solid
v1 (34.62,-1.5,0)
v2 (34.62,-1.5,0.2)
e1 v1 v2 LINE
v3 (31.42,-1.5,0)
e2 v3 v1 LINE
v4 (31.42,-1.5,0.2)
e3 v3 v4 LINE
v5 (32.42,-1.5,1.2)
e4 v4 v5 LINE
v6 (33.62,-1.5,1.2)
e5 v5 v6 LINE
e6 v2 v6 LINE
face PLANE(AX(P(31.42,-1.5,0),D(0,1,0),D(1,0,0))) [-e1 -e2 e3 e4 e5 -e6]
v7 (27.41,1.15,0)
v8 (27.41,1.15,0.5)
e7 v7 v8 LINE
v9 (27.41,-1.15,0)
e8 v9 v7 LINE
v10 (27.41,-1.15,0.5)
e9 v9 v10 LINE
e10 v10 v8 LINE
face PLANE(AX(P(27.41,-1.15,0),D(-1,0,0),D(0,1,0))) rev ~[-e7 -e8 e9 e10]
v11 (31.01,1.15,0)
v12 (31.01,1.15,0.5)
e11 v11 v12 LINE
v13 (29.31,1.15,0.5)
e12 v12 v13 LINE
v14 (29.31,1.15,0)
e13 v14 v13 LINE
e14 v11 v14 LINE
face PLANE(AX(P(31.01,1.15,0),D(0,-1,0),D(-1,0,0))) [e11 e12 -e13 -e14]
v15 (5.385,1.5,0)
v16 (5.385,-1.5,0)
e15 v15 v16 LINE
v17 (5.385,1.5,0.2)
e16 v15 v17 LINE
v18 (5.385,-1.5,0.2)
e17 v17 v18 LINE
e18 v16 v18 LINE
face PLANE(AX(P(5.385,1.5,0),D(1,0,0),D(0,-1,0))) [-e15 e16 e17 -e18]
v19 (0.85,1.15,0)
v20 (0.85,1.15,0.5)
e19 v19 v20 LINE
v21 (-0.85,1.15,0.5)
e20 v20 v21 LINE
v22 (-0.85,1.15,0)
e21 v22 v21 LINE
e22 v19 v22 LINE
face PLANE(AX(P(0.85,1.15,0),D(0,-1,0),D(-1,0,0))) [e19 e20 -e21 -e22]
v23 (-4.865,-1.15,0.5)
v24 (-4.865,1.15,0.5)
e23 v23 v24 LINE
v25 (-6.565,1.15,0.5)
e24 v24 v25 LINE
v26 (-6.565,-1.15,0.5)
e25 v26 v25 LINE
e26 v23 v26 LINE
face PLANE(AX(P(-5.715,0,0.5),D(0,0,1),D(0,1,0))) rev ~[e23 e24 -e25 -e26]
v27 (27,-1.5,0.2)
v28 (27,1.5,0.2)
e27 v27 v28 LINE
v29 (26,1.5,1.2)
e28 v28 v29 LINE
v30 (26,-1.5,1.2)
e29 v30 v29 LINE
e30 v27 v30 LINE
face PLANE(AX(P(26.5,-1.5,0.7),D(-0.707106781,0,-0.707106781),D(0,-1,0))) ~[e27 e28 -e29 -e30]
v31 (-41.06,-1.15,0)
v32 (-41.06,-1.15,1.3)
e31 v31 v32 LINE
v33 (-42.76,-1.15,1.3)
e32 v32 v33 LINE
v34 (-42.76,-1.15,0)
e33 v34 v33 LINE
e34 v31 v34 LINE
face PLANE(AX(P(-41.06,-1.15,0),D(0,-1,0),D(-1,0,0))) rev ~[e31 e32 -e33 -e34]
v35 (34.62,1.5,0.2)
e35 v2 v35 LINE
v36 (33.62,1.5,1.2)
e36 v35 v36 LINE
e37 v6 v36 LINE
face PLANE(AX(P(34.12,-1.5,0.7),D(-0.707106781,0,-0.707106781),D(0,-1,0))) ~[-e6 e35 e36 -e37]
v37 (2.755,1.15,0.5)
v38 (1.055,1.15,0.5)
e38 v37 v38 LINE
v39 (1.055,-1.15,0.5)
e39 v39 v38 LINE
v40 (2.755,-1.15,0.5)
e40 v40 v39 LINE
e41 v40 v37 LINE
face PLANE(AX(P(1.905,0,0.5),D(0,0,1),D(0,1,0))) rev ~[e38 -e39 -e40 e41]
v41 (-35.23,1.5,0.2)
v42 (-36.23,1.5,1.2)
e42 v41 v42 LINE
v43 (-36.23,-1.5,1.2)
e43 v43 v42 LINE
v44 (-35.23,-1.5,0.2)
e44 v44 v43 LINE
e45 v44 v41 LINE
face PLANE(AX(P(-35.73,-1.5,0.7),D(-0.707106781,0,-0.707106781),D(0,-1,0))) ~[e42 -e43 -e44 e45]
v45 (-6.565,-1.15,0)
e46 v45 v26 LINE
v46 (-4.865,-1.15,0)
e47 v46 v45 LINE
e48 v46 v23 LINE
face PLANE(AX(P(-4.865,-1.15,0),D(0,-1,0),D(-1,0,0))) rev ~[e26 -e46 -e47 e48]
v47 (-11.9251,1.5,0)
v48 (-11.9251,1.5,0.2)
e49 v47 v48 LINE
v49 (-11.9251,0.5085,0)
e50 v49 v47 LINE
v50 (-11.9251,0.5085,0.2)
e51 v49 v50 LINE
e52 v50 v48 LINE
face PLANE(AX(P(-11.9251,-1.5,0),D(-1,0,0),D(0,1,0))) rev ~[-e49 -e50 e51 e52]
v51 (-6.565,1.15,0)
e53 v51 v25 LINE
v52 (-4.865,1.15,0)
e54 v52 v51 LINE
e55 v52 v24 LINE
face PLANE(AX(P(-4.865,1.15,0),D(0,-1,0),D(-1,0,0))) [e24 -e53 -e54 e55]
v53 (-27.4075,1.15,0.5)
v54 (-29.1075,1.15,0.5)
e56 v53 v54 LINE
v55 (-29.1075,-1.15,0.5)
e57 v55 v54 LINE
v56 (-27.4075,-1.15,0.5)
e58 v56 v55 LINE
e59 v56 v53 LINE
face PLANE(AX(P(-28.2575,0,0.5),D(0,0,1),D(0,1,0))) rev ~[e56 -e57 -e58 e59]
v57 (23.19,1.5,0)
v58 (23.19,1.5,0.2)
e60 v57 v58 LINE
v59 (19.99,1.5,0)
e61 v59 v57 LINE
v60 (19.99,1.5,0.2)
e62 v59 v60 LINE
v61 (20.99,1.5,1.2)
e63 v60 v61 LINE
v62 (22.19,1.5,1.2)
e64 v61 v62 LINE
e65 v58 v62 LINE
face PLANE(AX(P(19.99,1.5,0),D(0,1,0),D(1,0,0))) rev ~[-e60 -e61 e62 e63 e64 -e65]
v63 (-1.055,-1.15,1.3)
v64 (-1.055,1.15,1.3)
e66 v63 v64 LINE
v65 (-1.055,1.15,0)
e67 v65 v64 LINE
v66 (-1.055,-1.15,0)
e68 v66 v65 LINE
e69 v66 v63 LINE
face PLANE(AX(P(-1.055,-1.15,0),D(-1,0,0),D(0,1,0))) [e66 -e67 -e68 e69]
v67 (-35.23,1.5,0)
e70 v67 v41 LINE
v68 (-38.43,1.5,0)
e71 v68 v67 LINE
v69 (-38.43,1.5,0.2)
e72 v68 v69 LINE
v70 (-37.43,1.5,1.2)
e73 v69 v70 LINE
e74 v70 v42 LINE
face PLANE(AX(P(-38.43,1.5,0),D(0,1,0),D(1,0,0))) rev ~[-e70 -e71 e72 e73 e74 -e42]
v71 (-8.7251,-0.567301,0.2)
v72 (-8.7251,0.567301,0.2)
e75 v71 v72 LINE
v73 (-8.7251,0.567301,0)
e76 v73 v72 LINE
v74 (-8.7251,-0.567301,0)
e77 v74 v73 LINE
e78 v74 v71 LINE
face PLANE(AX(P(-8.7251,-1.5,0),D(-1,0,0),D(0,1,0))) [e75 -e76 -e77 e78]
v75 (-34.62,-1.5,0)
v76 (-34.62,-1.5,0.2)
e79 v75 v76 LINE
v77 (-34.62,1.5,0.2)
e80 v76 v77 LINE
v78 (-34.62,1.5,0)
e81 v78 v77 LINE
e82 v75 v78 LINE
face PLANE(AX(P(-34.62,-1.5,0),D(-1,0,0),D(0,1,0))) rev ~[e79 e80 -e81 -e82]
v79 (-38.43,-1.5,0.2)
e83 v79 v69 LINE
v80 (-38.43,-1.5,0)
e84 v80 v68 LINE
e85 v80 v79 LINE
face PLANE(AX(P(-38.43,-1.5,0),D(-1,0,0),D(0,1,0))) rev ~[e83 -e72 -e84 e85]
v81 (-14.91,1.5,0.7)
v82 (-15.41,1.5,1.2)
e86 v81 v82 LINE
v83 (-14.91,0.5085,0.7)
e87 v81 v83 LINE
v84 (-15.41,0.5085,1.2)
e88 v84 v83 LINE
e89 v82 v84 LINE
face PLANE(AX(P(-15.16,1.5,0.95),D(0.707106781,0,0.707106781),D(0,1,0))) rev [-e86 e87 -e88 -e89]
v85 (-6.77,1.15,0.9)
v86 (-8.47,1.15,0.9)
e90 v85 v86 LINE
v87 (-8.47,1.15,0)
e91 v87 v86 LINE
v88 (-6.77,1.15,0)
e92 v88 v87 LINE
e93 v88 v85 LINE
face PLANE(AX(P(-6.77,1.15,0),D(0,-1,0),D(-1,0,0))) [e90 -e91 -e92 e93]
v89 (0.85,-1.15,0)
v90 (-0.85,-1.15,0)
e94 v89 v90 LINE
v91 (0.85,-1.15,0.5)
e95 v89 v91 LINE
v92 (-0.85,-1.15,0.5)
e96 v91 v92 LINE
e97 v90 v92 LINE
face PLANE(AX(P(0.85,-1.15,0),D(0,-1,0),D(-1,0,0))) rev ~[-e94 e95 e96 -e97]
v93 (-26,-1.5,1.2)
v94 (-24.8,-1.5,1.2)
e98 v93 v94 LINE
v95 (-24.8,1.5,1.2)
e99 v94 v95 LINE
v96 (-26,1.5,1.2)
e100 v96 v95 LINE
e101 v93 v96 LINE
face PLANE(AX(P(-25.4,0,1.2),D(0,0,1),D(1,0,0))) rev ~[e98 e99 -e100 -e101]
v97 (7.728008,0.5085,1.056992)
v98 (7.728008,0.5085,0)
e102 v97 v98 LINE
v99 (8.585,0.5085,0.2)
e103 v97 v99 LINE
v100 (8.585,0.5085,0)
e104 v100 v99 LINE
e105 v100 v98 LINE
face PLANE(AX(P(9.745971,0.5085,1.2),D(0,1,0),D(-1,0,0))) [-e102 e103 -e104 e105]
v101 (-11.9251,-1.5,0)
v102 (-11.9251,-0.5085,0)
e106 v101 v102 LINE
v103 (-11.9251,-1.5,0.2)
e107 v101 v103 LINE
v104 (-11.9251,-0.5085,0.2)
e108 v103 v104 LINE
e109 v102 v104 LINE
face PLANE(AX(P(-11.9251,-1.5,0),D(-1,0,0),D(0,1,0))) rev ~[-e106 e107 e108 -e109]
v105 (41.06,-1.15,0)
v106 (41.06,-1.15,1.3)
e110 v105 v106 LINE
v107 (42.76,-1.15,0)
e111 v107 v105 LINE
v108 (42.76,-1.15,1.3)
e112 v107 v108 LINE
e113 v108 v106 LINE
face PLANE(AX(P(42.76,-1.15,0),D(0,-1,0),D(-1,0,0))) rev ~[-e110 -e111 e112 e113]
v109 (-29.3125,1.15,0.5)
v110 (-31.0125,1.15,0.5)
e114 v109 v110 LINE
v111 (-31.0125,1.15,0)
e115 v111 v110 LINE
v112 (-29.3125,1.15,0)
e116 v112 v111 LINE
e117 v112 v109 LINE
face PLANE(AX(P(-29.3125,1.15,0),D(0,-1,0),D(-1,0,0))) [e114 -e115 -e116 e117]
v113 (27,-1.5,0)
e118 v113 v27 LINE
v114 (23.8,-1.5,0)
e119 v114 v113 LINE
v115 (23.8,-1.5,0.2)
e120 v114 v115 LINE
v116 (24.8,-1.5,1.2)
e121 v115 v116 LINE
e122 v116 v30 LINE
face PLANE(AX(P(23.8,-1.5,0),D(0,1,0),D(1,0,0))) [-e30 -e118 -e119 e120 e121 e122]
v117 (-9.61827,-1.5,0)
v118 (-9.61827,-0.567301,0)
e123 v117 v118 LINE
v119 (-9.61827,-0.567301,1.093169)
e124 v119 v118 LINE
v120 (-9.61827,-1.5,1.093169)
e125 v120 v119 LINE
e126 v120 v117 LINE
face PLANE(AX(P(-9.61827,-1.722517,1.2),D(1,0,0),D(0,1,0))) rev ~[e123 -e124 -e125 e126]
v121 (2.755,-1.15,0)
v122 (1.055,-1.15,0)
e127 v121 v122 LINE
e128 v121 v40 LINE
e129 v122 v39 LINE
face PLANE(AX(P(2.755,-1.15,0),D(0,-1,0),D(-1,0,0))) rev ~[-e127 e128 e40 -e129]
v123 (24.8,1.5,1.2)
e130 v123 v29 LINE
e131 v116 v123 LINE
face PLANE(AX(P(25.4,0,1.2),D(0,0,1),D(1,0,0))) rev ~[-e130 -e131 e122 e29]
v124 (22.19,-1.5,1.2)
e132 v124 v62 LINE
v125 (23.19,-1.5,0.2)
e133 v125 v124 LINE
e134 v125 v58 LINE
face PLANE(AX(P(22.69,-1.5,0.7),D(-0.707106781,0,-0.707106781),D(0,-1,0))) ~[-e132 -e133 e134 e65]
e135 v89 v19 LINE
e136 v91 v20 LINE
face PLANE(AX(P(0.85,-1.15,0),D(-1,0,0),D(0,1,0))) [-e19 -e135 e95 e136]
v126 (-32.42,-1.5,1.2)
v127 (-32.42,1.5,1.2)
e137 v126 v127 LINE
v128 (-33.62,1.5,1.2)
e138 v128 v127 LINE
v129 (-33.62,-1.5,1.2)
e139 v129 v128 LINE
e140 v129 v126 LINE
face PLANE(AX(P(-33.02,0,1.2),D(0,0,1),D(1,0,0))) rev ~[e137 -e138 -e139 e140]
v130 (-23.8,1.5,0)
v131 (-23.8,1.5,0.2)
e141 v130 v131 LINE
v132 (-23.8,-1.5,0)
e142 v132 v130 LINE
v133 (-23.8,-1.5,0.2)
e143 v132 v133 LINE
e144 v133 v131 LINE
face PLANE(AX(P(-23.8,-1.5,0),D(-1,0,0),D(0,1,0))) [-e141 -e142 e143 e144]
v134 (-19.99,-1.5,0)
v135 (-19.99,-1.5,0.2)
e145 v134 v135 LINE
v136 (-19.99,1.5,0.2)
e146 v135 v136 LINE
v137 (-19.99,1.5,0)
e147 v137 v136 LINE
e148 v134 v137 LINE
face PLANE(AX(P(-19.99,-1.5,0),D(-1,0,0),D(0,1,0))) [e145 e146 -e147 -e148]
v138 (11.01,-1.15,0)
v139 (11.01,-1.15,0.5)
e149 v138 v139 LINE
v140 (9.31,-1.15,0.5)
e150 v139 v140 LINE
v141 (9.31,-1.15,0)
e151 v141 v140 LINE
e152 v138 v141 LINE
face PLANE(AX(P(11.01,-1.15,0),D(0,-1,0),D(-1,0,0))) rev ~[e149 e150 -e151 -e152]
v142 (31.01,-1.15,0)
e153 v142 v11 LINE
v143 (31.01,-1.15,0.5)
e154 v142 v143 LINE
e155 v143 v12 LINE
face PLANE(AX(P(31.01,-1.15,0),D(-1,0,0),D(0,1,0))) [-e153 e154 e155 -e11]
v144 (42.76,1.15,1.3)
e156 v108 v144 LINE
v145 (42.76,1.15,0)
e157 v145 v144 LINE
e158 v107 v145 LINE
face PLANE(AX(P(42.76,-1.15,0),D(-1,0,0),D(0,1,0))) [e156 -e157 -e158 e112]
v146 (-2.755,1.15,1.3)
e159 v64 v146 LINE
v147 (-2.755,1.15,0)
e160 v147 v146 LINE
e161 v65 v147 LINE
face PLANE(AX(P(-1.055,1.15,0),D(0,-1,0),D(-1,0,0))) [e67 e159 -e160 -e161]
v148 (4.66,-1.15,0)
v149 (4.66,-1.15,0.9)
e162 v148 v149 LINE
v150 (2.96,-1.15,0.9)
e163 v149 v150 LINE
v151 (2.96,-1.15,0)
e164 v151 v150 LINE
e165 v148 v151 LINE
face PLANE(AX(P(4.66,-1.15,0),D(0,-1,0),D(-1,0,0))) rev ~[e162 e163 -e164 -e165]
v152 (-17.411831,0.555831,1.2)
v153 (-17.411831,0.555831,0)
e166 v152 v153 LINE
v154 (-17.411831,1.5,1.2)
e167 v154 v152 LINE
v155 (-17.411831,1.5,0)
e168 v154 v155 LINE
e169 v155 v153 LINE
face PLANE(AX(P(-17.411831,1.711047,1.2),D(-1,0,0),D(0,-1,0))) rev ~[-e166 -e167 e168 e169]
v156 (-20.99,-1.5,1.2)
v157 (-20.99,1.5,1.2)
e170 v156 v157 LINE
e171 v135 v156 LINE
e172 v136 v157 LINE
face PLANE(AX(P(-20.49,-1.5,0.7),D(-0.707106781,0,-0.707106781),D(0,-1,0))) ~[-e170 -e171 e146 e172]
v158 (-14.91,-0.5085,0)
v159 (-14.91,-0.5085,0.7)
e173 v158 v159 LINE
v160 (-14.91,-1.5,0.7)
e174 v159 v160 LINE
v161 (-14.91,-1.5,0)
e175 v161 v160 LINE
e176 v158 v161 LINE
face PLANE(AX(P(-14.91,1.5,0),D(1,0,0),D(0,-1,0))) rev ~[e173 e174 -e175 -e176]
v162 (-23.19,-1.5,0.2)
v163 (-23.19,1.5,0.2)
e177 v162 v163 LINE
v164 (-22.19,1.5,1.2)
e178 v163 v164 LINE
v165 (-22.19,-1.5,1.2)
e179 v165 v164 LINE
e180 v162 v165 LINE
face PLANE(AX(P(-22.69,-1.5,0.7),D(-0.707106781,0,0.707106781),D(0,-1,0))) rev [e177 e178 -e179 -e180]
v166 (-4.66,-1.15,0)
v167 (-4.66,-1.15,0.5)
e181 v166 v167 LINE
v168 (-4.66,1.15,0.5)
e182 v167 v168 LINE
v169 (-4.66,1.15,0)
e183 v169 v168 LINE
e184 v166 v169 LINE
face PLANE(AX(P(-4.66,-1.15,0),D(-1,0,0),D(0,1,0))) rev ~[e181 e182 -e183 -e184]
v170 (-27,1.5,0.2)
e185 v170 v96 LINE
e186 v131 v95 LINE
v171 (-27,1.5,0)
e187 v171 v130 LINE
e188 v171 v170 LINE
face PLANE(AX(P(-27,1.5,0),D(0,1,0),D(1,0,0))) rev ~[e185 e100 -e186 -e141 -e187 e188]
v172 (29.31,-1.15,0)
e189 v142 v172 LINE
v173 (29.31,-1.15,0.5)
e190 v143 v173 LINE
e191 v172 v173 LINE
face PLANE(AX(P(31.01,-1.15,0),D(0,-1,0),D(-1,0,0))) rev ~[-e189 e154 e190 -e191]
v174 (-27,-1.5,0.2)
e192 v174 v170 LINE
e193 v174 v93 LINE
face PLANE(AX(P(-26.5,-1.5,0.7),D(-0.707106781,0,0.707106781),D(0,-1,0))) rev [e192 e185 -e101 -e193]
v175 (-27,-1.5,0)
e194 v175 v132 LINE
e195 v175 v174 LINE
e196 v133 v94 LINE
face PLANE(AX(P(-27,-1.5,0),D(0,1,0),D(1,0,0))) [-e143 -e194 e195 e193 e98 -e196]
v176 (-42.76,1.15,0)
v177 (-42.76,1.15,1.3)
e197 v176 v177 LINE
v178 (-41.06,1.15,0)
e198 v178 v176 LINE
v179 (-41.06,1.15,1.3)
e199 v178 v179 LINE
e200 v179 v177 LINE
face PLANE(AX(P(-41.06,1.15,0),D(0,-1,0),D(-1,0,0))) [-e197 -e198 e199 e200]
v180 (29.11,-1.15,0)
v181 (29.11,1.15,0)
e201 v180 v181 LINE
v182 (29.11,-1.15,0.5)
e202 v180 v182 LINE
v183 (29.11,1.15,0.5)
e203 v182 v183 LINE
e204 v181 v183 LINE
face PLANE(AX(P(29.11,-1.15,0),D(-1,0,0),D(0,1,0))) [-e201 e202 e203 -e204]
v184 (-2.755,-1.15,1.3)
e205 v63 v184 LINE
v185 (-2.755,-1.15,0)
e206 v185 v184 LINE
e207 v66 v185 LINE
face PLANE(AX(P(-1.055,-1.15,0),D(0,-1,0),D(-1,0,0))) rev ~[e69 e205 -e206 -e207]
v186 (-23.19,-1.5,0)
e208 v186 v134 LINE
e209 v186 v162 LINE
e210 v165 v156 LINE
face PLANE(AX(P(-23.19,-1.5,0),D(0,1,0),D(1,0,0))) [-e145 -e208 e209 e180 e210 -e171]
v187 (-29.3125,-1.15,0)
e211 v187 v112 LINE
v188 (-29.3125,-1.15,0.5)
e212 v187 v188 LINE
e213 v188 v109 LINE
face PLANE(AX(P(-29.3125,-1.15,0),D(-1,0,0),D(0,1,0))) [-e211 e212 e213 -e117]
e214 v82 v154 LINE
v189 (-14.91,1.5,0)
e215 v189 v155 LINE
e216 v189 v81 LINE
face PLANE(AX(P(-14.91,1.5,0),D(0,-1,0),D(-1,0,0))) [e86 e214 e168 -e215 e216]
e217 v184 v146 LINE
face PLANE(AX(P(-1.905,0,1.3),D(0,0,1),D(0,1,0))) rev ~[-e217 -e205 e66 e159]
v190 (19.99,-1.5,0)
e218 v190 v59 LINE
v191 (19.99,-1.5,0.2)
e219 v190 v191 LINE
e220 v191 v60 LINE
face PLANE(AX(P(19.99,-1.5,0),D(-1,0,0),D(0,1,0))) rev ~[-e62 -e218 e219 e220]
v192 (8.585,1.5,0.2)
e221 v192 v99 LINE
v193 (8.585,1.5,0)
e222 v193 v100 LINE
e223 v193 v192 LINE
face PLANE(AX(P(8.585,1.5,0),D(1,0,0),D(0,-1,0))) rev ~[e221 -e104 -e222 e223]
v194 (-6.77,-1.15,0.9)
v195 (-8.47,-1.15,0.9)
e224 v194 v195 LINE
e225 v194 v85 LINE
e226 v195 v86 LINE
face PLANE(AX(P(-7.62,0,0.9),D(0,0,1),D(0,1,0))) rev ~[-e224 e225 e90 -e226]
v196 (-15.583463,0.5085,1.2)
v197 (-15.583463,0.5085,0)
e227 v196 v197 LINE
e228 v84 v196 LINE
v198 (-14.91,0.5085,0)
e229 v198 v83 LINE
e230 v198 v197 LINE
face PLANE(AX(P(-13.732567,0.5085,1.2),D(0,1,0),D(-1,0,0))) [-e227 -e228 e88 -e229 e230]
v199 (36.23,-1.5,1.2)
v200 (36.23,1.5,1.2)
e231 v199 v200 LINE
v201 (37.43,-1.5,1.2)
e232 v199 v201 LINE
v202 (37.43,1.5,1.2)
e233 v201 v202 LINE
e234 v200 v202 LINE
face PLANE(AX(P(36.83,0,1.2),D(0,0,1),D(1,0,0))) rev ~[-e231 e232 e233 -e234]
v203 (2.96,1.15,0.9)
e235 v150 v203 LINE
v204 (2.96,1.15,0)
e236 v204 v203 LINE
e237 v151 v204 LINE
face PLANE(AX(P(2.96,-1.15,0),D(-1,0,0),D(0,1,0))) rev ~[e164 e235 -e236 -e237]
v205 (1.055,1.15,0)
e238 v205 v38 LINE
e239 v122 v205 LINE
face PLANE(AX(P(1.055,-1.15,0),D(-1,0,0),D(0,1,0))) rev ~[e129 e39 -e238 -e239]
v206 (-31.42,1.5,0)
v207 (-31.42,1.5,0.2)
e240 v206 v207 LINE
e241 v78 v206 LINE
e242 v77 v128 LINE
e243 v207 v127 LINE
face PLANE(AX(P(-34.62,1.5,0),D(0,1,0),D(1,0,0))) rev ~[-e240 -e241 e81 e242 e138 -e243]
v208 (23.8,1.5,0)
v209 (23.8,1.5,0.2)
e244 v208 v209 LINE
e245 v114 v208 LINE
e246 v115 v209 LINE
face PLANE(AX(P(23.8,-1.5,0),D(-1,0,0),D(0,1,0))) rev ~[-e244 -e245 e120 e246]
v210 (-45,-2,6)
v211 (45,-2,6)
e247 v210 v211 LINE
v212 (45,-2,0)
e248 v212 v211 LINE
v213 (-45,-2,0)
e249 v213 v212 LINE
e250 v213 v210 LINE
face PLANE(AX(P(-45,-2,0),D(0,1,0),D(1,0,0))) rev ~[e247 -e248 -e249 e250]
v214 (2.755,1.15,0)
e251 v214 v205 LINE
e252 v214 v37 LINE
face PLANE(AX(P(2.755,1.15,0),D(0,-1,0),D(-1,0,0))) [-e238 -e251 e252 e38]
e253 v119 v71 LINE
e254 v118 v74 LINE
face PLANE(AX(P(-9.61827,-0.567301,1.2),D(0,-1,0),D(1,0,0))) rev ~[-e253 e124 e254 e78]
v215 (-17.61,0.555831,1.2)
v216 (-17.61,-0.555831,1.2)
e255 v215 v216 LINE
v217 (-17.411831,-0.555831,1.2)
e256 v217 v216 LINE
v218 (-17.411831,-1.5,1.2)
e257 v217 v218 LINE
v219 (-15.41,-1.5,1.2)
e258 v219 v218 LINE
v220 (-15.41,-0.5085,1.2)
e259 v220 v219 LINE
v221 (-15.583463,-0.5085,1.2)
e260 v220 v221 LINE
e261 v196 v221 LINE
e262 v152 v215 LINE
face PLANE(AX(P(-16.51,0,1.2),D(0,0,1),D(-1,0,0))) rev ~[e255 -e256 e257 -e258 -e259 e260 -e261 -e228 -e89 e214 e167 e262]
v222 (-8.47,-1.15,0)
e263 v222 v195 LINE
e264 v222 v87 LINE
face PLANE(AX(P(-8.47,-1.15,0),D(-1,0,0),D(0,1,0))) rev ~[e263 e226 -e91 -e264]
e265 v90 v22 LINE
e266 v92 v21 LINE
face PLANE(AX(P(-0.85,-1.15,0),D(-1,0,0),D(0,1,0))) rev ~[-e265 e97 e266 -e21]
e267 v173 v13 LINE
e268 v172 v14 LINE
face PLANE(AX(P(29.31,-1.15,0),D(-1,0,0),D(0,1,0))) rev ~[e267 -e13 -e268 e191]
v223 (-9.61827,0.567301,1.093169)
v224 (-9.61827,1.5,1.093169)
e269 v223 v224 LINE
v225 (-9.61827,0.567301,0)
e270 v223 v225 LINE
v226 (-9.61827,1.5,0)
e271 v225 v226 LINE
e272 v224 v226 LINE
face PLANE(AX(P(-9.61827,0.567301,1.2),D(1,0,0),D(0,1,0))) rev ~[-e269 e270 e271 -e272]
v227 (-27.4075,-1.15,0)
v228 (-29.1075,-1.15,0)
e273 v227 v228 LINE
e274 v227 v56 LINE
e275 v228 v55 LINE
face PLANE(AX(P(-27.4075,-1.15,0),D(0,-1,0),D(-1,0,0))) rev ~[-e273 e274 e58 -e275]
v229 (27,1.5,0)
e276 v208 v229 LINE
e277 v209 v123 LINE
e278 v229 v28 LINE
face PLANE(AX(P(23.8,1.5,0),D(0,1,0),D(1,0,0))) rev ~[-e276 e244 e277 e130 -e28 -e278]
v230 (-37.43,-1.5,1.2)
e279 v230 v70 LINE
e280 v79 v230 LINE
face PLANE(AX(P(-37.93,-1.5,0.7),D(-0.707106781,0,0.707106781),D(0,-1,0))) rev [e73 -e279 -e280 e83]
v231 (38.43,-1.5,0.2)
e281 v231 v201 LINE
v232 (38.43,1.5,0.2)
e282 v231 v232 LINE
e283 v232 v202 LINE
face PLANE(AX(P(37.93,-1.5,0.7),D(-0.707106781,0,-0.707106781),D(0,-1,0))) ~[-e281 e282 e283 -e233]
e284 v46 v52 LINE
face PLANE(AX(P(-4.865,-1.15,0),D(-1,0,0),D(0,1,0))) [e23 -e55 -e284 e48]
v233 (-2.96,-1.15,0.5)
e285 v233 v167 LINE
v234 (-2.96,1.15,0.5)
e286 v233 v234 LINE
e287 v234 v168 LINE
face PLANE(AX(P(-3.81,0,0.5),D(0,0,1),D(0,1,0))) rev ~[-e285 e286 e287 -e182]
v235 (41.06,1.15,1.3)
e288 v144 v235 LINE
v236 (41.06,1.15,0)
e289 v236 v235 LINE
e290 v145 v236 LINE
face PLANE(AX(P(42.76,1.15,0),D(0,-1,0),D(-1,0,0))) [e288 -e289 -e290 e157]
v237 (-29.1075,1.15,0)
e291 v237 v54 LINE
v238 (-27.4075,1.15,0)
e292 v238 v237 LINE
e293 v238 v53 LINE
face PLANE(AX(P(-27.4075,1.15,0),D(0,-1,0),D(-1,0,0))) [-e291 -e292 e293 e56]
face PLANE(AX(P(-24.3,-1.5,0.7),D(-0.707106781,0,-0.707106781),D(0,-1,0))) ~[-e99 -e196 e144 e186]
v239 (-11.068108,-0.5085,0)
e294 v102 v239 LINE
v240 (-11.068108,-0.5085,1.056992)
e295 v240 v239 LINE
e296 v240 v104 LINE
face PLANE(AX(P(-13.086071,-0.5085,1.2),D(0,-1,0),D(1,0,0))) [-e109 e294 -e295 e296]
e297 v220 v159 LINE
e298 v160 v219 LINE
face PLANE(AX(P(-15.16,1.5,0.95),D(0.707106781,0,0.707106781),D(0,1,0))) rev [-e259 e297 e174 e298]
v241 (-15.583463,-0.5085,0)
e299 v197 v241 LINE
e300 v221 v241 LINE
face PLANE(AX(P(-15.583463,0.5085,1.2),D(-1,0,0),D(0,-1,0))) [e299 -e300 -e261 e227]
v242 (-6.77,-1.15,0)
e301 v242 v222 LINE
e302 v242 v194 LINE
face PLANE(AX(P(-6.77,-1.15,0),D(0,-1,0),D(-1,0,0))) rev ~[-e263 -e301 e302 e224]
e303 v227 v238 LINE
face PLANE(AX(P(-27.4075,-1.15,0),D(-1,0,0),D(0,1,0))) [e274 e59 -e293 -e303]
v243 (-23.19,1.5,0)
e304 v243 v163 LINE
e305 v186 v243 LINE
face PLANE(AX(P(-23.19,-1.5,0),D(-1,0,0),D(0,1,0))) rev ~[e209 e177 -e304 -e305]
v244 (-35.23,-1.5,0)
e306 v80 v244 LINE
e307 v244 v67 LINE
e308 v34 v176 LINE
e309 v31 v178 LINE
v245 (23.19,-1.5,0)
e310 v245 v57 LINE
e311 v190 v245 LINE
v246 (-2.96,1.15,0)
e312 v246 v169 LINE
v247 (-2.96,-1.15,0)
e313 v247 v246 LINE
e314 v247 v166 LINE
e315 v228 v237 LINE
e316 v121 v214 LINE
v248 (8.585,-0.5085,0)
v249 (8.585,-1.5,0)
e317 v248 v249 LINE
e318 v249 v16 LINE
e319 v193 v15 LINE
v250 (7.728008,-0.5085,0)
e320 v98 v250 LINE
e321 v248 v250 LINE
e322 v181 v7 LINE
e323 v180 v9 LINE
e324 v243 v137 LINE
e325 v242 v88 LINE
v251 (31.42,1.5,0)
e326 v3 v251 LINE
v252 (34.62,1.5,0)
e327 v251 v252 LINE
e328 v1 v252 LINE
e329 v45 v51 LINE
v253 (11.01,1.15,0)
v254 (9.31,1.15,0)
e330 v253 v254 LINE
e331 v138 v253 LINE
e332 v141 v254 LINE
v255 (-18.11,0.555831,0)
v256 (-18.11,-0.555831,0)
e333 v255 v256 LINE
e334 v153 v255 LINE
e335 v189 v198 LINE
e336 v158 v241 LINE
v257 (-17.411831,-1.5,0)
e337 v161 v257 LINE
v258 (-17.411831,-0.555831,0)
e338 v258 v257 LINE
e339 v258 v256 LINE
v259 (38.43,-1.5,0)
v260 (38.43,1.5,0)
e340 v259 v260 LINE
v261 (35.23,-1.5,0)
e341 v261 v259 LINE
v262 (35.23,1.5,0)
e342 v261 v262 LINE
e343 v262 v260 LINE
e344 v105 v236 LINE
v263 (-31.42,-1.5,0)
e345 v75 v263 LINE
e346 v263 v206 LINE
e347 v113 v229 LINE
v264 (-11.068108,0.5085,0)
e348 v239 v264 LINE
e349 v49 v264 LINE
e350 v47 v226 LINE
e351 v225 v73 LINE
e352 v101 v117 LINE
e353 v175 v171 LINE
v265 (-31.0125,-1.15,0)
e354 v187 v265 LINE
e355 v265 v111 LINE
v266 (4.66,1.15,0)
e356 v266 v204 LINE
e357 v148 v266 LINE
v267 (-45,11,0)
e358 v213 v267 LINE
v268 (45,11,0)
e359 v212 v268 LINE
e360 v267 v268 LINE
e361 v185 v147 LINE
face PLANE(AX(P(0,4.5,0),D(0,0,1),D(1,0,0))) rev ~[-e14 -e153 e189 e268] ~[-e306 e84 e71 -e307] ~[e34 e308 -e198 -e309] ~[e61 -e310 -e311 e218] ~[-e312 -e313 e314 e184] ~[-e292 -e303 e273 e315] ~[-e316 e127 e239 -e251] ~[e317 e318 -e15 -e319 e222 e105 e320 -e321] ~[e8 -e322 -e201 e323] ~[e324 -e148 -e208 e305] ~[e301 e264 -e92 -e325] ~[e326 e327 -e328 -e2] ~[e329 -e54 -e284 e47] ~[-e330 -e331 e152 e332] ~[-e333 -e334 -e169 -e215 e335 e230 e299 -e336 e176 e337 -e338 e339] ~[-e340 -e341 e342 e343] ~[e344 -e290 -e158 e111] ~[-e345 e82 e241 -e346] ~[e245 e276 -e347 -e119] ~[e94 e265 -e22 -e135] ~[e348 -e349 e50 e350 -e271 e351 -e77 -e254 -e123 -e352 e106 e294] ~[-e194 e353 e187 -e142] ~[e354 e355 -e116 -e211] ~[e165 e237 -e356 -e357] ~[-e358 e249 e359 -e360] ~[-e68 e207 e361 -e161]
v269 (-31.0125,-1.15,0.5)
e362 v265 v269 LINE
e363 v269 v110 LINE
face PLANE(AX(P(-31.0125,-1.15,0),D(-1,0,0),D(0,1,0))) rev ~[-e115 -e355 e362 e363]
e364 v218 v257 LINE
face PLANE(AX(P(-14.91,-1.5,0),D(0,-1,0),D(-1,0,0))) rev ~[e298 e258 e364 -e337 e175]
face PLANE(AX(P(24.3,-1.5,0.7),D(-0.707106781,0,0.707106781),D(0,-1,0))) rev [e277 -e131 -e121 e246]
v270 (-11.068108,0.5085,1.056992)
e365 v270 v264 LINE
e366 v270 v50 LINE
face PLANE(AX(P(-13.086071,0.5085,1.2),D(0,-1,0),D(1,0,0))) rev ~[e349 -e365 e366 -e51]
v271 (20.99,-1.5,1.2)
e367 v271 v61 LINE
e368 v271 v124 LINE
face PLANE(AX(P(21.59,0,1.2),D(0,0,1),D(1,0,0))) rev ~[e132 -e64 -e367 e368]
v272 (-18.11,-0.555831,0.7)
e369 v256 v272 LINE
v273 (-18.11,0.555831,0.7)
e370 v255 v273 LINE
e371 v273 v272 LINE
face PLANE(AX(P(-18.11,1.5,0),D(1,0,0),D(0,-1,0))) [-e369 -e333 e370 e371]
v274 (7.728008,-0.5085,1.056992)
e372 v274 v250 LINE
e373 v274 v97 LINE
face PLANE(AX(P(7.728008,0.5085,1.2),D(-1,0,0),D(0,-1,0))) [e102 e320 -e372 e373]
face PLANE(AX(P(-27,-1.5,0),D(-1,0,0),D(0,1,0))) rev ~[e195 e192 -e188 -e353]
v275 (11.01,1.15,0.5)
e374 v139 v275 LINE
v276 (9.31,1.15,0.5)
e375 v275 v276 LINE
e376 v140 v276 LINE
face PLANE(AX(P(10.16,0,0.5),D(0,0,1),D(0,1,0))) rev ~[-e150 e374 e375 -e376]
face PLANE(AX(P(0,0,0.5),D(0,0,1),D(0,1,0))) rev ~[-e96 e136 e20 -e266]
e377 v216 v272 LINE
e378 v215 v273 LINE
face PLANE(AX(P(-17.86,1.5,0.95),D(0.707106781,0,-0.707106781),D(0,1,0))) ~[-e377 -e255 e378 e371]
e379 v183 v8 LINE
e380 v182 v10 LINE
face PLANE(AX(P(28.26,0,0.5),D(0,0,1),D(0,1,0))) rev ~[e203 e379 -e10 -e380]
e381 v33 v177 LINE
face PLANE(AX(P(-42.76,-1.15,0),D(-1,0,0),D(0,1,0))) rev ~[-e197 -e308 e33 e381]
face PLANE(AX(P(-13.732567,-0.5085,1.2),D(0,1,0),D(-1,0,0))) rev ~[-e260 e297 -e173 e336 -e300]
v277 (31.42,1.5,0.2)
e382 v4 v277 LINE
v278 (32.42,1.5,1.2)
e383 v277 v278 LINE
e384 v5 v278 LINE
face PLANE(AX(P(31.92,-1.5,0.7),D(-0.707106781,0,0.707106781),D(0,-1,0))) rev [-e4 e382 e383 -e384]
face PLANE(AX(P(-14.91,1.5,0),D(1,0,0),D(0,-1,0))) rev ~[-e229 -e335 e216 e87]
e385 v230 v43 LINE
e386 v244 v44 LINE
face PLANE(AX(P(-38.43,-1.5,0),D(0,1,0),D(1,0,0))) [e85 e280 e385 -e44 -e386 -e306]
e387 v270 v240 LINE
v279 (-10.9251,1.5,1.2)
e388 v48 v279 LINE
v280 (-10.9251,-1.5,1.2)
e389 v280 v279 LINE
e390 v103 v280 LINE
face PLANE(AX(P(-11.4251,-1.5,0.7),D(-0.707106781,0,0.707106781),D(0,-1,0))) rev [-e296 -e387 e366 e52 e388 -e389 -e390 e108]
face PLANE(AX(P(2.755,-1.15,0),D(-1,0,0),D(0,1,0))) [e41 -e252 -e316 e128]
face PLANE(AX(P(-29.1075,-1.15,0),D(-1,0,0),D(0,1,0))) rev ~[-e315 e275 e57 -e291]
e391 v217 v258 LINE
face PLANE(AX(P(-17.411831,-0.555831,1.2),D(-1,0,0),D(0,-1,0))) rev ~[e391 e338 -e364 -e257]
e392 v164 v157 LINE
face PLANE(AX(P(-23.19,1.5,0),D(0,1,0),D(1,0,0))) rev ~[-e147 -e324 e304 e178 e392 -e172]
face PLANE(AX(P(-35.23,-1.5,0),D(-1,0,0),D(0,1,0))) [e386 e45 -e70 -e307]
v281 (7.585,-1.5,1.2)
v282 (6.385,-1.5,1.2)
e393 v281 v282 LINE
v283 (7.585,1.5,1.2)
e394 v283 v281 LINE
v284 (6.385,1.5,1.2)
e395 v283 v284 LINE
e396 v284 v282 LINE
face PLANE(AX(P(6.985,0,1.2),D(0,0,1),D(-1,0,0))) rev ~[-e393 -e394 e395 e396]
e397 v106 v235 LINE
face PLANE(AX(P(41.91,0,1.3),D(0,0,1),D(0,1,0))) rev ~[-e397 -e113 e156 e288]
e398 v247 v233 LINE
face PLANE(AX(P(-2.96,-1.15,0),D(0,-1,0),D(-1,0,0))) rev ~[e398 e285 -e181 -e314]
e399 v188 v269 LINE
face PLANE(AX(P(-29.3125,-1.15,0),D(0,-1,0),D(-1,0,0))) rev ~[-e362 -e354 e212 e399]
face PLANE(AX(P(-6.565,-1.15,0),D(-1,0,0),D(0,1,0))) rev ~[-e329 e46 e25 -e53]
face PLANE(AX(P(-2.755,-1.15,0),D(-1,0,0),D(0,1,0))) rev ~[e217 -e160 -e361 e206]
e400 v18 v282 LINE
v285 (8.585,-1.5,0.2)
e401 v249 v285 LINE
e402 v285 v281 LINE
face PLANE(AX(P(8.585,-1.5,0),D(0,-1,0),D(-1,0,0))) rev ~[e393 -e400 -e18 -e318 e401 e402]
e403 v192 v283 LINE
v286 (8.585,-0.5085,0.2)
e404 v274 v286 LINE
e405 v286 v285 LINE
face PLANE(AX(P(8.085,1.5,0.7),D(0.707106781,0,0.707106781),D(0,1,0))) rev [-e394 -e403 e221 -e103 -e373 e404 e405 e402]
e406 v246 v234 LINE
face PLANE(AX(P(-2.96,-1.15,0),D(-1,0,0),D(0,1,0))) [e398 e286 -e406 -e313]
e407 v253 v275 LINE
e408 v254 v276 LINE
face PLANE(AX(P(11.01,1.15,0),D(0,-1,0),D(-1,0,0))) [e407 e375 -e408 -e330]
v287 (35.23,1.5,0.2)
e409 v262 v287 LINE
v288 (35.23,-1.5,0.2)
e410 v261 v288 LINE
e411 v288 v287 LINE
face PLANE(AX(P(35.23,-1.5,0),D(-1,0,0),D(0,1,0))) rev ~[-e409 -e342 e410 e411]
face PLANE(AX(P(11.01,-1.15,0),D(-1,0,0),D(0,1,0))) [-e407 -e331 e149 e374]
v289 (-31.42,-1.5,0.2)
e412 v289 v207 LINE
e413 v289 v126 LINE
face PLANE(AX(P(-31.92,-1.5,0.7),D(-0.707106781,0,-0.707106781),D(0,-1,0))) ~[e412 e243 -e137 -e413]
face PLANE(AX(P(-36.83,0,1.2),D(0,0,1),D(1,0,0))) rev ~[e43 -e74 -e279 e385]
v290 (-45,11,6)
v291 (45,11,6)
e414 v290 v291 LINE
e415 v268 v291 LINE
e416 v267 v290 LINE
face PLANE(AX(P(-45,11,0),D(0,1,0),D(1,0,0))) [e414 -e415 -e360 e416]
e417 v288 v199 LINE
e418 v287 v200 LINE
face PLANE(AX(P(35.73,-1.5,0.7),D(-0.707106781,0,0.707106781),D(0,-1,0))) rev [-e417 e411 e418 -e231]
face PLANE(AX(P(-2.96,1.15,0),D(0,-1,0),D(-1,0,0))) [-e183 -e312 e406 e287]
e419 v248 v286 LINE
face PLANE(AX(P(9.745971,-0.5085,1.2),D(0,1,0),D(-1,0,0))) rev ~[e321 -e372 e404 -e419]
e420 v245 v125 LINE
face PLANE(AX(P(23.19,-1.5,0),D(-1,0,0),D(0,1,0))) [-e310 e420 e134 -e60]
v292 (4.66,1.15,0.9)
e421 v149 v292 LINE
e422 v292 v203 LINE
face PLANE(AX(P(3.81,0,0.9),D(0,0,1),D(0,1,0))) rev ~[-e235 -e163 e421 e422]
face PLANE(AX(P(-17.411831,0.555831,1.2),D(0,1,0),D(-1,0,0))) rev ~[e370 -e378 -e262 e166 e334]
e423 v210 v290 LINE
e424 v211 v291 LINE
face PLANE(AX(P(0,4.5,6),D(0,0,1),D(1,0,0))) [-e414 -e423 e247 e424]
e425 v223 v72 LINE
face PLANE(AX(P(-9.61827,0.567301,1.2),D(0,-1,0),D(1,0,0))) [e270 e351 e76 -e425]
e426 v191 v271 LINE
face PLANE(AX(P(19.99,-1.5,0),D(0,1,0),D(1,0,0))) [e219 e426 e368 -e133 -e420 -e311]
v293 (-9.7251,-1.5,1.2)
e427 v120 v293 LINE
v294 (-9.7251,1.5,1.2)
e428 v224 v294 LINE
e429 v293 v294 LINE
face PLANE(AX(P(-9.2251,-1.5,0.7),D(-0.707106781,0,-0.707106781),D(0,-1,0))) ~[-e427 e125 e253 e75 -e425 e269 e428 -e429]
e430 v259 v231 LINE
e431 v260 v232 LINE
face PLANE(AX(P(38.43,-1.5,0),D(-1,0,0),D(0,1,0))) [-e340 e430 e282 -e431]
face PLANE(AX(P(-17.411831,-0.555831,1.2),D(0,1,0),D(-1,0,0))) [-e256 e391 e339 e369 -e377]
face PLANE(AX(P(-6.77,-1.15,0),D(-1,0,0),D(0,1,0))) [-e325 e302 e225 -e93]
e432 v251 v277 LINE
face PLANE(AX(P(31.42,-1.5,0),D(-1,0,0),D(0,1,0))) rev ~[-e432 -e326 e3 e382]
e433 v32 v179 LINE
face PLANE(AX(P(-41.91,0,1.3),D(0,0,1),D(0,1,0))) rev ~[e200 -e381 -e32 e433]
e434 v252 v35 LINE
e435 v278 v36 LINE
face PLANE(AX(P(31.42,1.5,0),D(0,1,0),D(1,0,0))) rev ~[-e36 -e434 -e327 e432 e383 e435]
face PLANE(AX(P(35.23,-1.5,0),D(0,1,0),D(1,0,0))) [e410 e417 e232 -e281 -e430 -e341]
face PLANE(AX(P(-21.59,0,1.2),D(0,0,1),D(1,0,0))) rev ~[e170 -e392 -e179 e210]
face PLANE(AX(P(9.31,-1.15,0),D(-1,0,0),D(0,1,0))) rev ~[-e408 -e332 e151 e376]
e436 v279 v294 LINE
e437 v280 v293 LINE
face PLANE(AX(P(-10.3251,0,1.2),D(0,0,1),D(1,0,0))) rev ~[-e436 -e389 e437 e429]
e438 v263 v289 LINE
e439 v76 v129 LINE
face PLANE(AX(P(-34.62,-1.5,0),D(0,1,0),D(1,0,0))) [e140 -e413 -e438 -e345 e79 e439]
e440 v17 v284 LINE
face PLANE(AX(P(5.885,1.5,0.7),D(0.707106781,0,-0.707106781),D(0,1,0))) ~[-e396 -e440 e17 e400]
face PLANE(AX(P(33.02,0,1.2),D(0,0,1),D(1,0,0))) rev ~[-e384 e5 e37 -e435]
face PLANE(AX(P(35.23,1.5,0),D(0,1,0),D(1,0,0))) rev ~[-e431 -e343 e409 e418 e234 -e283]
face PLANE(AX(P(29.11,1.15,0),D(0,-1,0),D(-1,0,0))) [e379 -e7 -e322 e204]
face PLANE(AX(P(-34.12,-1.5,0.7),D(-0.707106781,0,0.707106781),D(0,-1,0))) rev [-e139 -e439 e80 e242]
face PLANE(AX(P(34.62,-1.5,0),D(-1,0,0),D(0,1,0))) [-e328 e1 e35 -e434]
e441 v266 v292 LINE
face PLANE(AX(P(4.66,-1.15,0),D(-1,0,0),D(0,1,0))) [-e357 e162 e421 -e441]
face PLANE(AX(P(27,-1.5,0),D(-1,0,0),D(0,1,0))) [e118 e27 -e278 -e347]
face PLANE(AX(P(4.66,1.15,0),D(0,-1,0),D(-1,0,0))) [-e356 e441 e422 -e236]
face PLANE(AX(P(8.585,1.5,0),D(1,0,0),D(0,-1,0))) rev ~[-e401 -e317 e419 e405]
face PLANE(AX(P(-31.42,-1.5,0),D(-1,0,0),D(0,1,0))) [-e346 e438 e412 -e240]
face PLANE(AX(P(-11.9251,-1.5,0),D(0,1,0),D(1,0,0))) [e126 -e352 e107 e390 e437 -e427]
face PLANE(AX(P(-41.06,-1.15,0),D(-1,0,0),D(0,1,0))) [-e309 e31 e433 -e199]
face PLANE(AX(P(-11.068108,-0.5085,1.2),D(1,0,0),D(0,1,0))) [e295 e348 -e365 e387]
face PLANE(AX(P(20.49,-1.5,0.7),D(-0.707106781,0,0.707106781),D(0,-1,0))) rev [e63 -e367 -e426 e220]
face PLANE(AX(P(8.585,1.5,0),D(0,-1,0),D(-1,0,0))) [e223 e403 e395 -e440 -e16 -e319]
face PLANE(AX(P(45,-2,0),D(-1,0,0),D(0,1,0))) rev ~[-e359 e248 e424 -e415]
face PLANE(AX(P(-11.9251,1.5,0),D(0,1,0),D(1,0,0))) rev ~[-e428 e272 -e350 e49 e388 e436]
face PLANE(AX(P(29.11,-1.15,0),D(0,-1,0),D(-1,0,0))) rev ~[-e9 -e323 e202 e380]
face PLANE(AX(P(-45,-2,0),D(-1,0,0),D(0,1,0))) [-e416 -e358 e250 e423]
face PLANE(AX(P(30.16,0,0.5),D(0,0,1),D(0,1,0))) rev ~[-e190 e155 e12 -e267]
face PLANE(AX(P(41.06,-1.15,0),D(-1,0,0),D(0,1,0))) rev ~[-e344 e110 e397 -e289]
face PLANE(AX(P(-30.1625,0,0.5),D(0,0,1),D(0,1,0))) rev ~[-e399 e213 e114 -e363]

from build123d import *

# Parameters (mm, degrees)
SKETCH040_W             = 2.3
SKETCH040_H             = 1.7
PAD037_DEPTH            = 1.3
BODY038_PLACEMENT_ANGLE = 90
SKETCH031_W             = 3.2
SKETCH031_H             = 3
PAD028_DEPTH            = 1.2
CHAMFER014_SIZE         = 1
SKETCH030_W             = 3.2
SKETCH030_H             = 3
PAD027_DEPTH            = 1.2
CHAMFER013_SIZE         = 1
SKETCH037_W             = 2.3
SKETCH037_H             = 1.7
PAD034_DEPTH            = 0.5
BODY035_PLACEMENT_ANGLE = 90
SKETCH036_W             = 2.3
SKETCH036_H             = 1.7
PAD033_DEPTH            = 0.5
BODY034_PLACEMENT_ANGLE = 90
SKETCH028_W             = 3.2
SKETCH028_H             = 3
PAD025_DEPTH            = 1.2
CHAMFER011_SIZE         = 1
SKETCH029_W             = 3.2
SKETCH029_H             = 3
PAD026_DEPTH            = 1.2
CHAMFER012_SIZE         = 1
SKETCH054_W             = 3.2
SKETCH054_H             = 3
PAD049_DEPTH            = 1.2
CHAMFER021_SIZE         = 0.5
SKETCH055_W             = 1.850896
SKETCH055_H             = 1.017
SKETCH055_W_2           = 1.709498
SKETCH055_H_2           = 1.155216
POCKET005_DEPTH         = 5
BODY050_PLACEMENT_ANGLE = 180
SKETCH052_W             = 3.2
SKETCH052_H             = 3
PAD048_DEPTH            = 1.2
CHAMFER020_SIZE         = 1
SKETCH053_W             = 2.017963
SKETCH053_H             = 1.017
SKETCH053_W_2           = 1.827715
SKETCH053_H_2           = 1.155216
POCKET004_DEPTH         = 5
SKETCH048_W             = 2.3
SKETCH048_H             = 1.7
PAD045_DEPTH            = 0.9
BODY046_PLACEMENT_ANGLE = 90
SKETCH045_W             = 2.3
SKETCH045_H             = 1.7
PAD042_DEPTH            = 0.5
BODY043_PLACEMENT_ANGLE = 90
SKETCH044_W             = 2.3
SKETCH044_H             = 1.7
PAD041_DEPTH            = 0.5
BODY042_PLACEMENT_ANGLE = 90
SKETCH046_W             = 2.3
SKETCH046_H             = 1.7
PAD043_DEPTH            = 1.3
BODY044_PLACEMENT_ANGLE = 90
SKETCH049_W             = 2.3
SKETCH049_H             = 1.7
PAD046_DEPTH            = 0.9
BODY047_PLACEMENT_ANGLE = 90
SKETCH050_W             = 3.2
SKETCH050_H             = 3
PAD047_DEPTH            = 1.2
CHAMFER019_SIZE         = 1
SKETCH051_W             = 2.017963
SKETCH051_H             = 1.017
POCKET003_DEPTH         = 5
BODY048_PLACEMENT_ANGLE = 180
SKETCH042_W             = 2.3
SKETCH042_H             = 1.7
PAD039_DEPTH            = 0.5
BODY040_PLACEMENT_ANGLE = 90
SKETCH043_W             = 2.3
SKETCH043_H             = 1.7
PAD040_DEPTH            = 0.5
BODY041_PLACEMENT_ANGLE = 90
SKETCH047_W             = 2.3
SKETCH047_H             = 1.7
PAD044_DEPTH            = 0.5
BODY045_PLACEMENT_ANGLE = 90
SKETCH034_W             = 3.2
SKETCH034_H             = 3
PAD030_DEPTH            = 1.2
CHAMFER017_SIZE         = 1
SKETCH033_W             = 3.2
SKETCH033_H             = 3
PAD029_DEPTH            = 1.2
CHAMFER018_SIZE         = 1
SKETCH039_W             = 2.3
SKETCH039_H             = 1.7
PAD035_DEPTH            = 0.5
BODY037_PLACEMENT_ANGLE = 90
SKETCH038_W             = 2.3
SKETCH038_H             = 1.7
PAD036_DEPTH            = 0.5
BODY036_PLACEMENT_ANGLE = 90
SKETCH035_W             = 3.2
SKETCH035_H             = 3
PAD031_DEPTH            = 1.2
CHAMFER016_SIZE         = 1
SKETCH032_W             = 3.2
SKETCH032_H             = 3
PAD032_DEPTH            = 1.2
CHAMFER015_SIZE         = 1
SKETCH041_W             = 2.3
SKETCH041_H             = 1.7
PAD038_DEPTH            = 1.3
BODY039_PLACEMENT_ANGLE = 90
SKETCH056_W             = 90
SKETCH056_H             = 13
PAD050_DEPTH            = 6


with BuildPart() as capacitor_1u003:
    # Sketch040 → Pad037 (new body)
    with BuildSketch(Plane.XY):
        Rectangle(SKETCH040_W, SKETCH040_H)
    extrude(amount=PAD037_DEPTH)


with BuildPart() as capacitor_1u003_1:
    # Body038 placement: moved
    add(capacitor_1u003.part.moved(Location((-41.91, 0, 0))).rotate(Axis((-41.91, 0, 0), (0, 0, 1)), BODY038_PLACEMENT_ANGLE))


with BuildPart() as supersot017:
    # Sketch031 → Pad028 (new body)
    with BuildSketch(Plane.XY):
        Rectangle(SKETCH031_W, SKETCH031_H)
    extrude(amount=PAD028_DEPTH)

    # Chamfer014
    chamfer014_edges = [supersot017.edges().sort_by_distance(p)[0] for p in [
        (-1.6, 0, 1.2),
        (1.6, 0, 1.2),
    ]]
    chamfer(chamfer014_edges, length=CHAMFER014_SIZE)


with BuildPart() as supersot017_1:
    # Body029 placement: moved
    add(supersot017.part.moved(Location((-36.83, 0, 0))))


with BuildPart() as supersot016:
    # Sketch030 → Pad027 (new body)
    with BuildSketch(Plane.XY):
        Rectangle(SKETCH030_W, SKETCH030_H)
    extrude(amount=PAD027_DEPTH)

    # Chamfer013
    chamfer013_edges = [supersot016.edges().sort_by_distance(p)[0] for p in [
        (-1.6, 0, 1.2),
        (1.6, 0, 1.2),
    ]]
    chamfer(chamfer013_edges, length=CHAMFER013_SIZE)


with BuildPart() as supersot016_1:
    # Body028 placement: moved
    add(supersot016.part.moved(Location((-33.02, 0, 0))))


with BuildPart() as resistor_10k010:
    # Sketch037 → Pad034 (new body)
    with BuildSketch(Plane.XY):
        Rectangle(SKETCH037_W, SKETCH037_H)
    extrude(amount=PAD034_DEPTH)


with BuildPart() as resistor_10k010_1:
    # Body035 placement: moved
    add(resistor_10k010.part.moved(Location((-30.1625, 0, 0))).rotate(Axis((-30.1625, 0, 0), (0, 0, 1)), BODY035_PLACEMENT_ANGLE))


with BuildPart() as resistor_10k009:
    # Sketch036 → Pad033 (new body)
    with BuildSketch(Plane.XY):
        Rectangle(SKETCH036_W, SKETCH036_H)
    extrude(amount=PAD033_DEPTH)


with BuildPart() as resistor_10k009_1:
    # Body034 placement: moved
    add(resistor_10k009.part.moved(Location((-28.2575, 0, 0))).rotate(Axis((-28.2575, 0, 0), (0, 0, 1)), BODY034_PLACEMENT_ANGLE))


with BuildPart() as supersot014:
    # Sketch028 → Pad025 (new body)
    with BuildSketch(Plane.XY):
        Rectangle(SKETCH028_W, SKETCH028_H)
    extrude(amount=PAD025_DEPTH)

    # Chamfer011
    chamfer011_edges = [supersot014.edges().sort_by_distance(p)[0] for p in [
        (-1.6, 0, 1.2),
        (1.6, 0, 1.2),
    ]]
    chamfer(chamfer011_edges, length=CHAMFER011_SIZE)


with BuildPart() as supersot014_1:
    # Body026 placement: moved
    add(supersot014.part.moved(Location((-25.4, 0, 0))))


with BuildPart() as supersot015:
    # Sketch029 → Pad026 (new body)
    with BuildSketch(Plane.XY):
        Rectangle(SKETCH029_W, SKETCH029_H)
    extrude(amount=PAD026_DEPTH)

    # Chamfer012
    chamfer012_edges = [supersot015.edges().sort_by_distance(p)[0] for p in [
        (-1.6, 0, 1.2),
        (1.6, 0, 1.2),
    ]]
    chamfer(chamfer012_edges, length=CHAMFER012_SIZE)


with BuildPart() as supersot015_1:
    # Body027 placement: moved
    add(supersot015.part.moved(Location((-21.59, 0, 0))))


with BuildPart() as sot23_big001:
    # Sketch054 → Pad049 (new body)
    with BuildSketch(Plane.XY):
        Rectangle(SKETCH054_W, SKETCH054_H)
    extrude(amount=PAD049_DEPTH)

    # Chamfer021
    chamfer021_edges = [sot23_big001.edges().sort_by_distance(p)[0] for p in [
        (-1.6, 0, 1.2),
        (1.6, 0, 1.2),
    ]]
    chamfer(chamfer021_edges, length=CHAMFER021_SIZE)

    # Sketch055 (on Face5 of Chamfer021) → Pocket005 (cut)
    with BuildSketch(Plane.XY.offset(1.2)):
        with Locations((-1.851985, 0)):
            Rectangle(SKETCH055_W, SKETCH055_H)
        with Locations((1.75658, 1.133439)):
            Rectangle(SKETCH055_W_2, SKETCH055_H_2)
        with Locations((1.75658, -1.133439)):
            Rectangle(SKETCH055_W_2, SKETCH055_H_2)
    extrude(amount=-POCKET005_DEPTH, mode=Mode.SUBTRACT)


with BuildPart() as sot23_big001_1:
    # Body050 placement: moved
    add(sot23_big001.part.moved(Location((-16.51, 0, 0))).rotate(Axis((-16.51, 0, 0), (0, 0, 1)), BODY050_PLACEMENT_ANGLE))


with BuildPart() as sot23:
    # Sketch052 → Pad048 (new body)
    with BuildSketch(Plane.XY):
        Rectangle(SKETCH052_W, SKETCH052_H)
    extrude(amount=PAD048_DEPTH)

    # Chamfer020
    chamfer020_edges = [sot23.edges().sort_by_distance(p)[0] for p in [
        (-1.6, 0, 1.2),
        (1.6, 0, 1.2),
    ]]
    chamfer(chamfer020_edges, length=CHAMFER020_SIZE)

    # Sketch053 (on Face5 of Chamfer020) → Pocket004 (cut)
    with BuildSketch(Plane.XY.offset(1.2)):
        with Locations((-1.75199, 0)):
            Rectangle(SKETCH053_W, SKETCH053_H)
        with Locations((1.620688, 1.144909)):
            Rectangle(SKETCH053_W_2, SKETCH053_H_2)
        with Locations((1.620688, -1.144909)):
            Rectangle(SKETCH053_W_2, SKETCH053_H_2)
    extrude(amount=-POCKET004_DEPTH, mode=Mode.SUBTRACT)


with BuildPart() as sot23_1:
    # Body049 placement: moved
    add(sot23.part.moved(Location((-10.3251, 0, 0))))


with BuildPart() as capacitor_100n002:
    # Sketch048 → Pad045 (new body)
    with BuildSketch(Plane.XY):
        Rectangle(SKETCH048_W, SKETCH048_H)
    extrude(amount=PAD045_DEPTH)


with BuildPart() as capacitor_100n002_1:
    # Body046 placement: moved
    add(capacitor_100n002.part.moved(Location((-7.62, 0, 0))).rotate(Axis((-7.62, 0, 0), (0, 0, 1)), BODY046_PLACEMENT_ANGLE))


with BuildPart() as resistor_10k016:
    # Sketch045 → Pad042 (new body)
    with BuildSketch(Plane.XY):
        Rectangle(SKETCH045_W, SKETCH045_H)
    extrude(amount=PAD042_DEPTH)


with BuildPart() as resistor_10k016_1:
    # Body043 placement: moved
    add(resistor_10k016.part.moved(Location((-5.715, 0, 0))).rotate(Axis((-5.715, 0, 0), (0, 0, 1)), BODY043_PLACEMENT_ANGLE))


with BuildPart() as resistor_10k015:
    # Sketch044 → Pad041 (new body)
    with BuildSketch(Plane.XY):
        Rectangle(SKETCH044_W, SKETCH044_H)
    extrude(amount=PAD041_DEPTH)


with BuildPart() as resistor_10k015_1:
    # Body042 placement: moved
    add(resistor_10k015.part.moved(Location((-3.81, 0, 0))).rotate(Axis((-3.81, 0, 0), (0, 0, 1)), BODY042_PLACEMENT_ANGLE))


with BuildPart() as capacitor_1u005:
    # Sketch046 → Pad043 (new body)
    with BuildSketch(Plane.XY):
        Rectangle(SKETCH046_W, SKETCH046_H)
    extrude(amount=PAD043_DEPTH)


with BuildPart() as capacitor_1u005_1:
    # Body044 placement: moved
    add(capacitor_1u005.part.moved(Location((-1.905, 0, 0))).rotate(Axis((-1.905, 0, 0), (0, 0, 1)), BODY044_PLACEMENT_ANGLE))


with BuildPart() as capacitor_100n003:
    # Sketch049 → Pad046 (new body)
    with BuildSketch(Plane.XY):
        Rectangle(SKETCH049_W, SKETCH049_H)
    extrude(amount=PAD046_DEPTH)


with BuildPart() as capacitor_100n003_1:
    # Body047 placement: moved
    add(capacitor_100n003.part.moved(Location((3.81, 0, 0))).rotate(Axis((3.81, 0, 0), (0, 0, 1)), BODY047_PLACEMENT_ANGLE))


with BuildPart() as body048:
    # Sketch050 → Pad047 (new body)
    with BuildSketch(Plane.XY):
        Rectangle(SKETCH050_W, SKETCH050_H)
    extrude(amount=PAD047_DEPTH)

    # Chamfer019
    chamfer019_edges = [body048.edges().sort_by_distance(p)[0] for p in [
        (-1.6, 0, 1.2),
        (1.6, 0, 1.2),
    ]]
    chamfer(chamfer019_edges, length=CHAMFER019_SIZE)

    # Sketch051 (on Face5 of Chamfer019) → Pocket003 (cut)
    with BuildSketch(Plane.XY.offset(1.2)):
        with Locations((-1.75199, 0)):
            Rectangle(SKETCH051_W, SKETCH051_H)
    extrude(amount=-POCKET003_DEPTH, mode=Mode.SUBTRACT)


with BuildPart() as body048_1:
    # Body048 placement: moved
    add(body048.part.moved(Location((6.985, 0, 0))).rotate(Axis((6.985, 0, 0), (0, 0, 1)), BODY048_PLACEMENT_ANGLE))


with BuildPart() as resistor_10k013:
    # Sketch042 → Pad039 (new body)
    with BuildSketch(Plane.XY):
        Rectangle(SKETCH042_W, SKETCH042_H)
    extrude(amount=PAD039_DEPTH)


with BuildPart() as resistor_10k013_1:
    # Body040 placement: moved
    add(resistor_10k013.part.rotate(Axis((0, 0, 0), (0, 0, 1)), BODY040_PLACEMENT_ANGLE))


with BuildPart() as resistor_10k014:
    # Sketch043 → Pad040 (new body)
    with BuildSketch(Plane.XY):
        Rectangle(SKETCH043_W, SKETCH043_H)
    extrude(amount=PAD040_DEPTH)


with BuildPart() as resistor_10k014_1:
    # Body041 placement: moved
    add(resistor_10k014.part.moved(Location((1.905, 0, 0))).rotate(Axis((1.905, 0, 0), (0, 0, 1)), BODY041_PLACEMENT_ANGLE))


with BuildPart() as resistor_10k017:
    # Sketch047 → Pad044 (new body)
    with BuildSketch(Plane.XY):
        Rectangle(SKETCH047_W, SKETCH047_H)
    extrude(amount=PAD044_DEPTH)


with BuildPart() as resistor_10k017_1:
    # Body045 placement: moved
    add(resistor_10k017.part.moved(Location((10.16, 0, 0))).rotate(Axis((10.16, 0, 0), (0, 0, 1)), BODY045_PLACEMENT_ANGLE))


with BuildPart() as supersot019:
    # Sketch034 → Pad030 (new body)
    with BuildSketch(Plane.XY):
        Rectangle(SKETCH034_W, SKETCH034_H)
    extrude(amount=PAD030_DEPTH)

    # Chamfer017
    chamfer017_edges = [supersot019.edges().sort_by_distance(p)[0] for p in [
        (-1.6, 0, 1.2),
        (1.6, 0, 1.2),
    ]]
    chamfer(chamfer017_edges, length=CHAMFER017_SIZE)


with BuildPart() as supersot019_1:
    # Body031 placement: moved
    add(supersot019.part.moved(Location((21.59, 0, 0))))


with BuildPart() as supersot018:
    # Sketch033 → Pad029 (new body)
    with BuildSketch(Plane.XY):
        Rectangle(SKETCH033_W, SKETCH033_H)
    extrude(amount=PAD029_DEPTH)

    # Chamfer018
    chamfer018_edges = [supersot018.edges().sort_by_distance(p)[0] for p in [
        (-1.6, 0, 1.2),
        (1.6, 0, 1.2),
    ]]
    chamfer(chamfer018_edges, length=CHAMFER018_SIZE)


with BuildPart() as supersot018_1:
    # Body030 placement: moved
    add(supersot018.part.moved(Location((25.4, 0, 0))))


with BuildPart() as resistor_10k012:
    # Sketch039 → Pad035 (new body)
    with BuildSketch(Plane.XY):
        Rectangle(SKETCH039_W, SKETCH039_H)
    extrude(amount=PAD035_DEPTH)


with BuildPart() as resistor_10k012_1:
    # Body037 placement: moved
    add(resistor_10k012.part.moved(Location((28.26, 0, 0))).rotate(Axis((28.26, 0, 0), (0, 0, 1)), BODY037_PLACEMENT_ANGLE))


with BuildPart() as resistor_10k011:
    # Sketch038 → Pad036 (new body)
    with BuildSketch(Plane.XY):
        Rectangle(SKETCH038_W, SKETCH038_H)
    extrude(amount=PAD036_DEPTH)


with BuildPart() as resistor_10k011_1:
    # Body036 placement: moved
    add(resistor_10k011.part.moved(Location((30.16, 0, 0))).rotate(Axis((30.16, 0, 0), (0, 0, 1)), BODY036_PLACEMENT_ANGLE))


with BuildPart() as supersot020:
    # Sketch035 → Pad031 (new body)
    with BuildSketch(Plane.XY):
        Rectangle(SKETCH035_W, SKETCH035_H)
    extrude(amount=PAD031_DEPTH)

    # Chamfer016
    chamfer016_edges = [supersot020.edges().sort_by_distance(p)[0] for p in [
        (-1.6, 0, 1.2),
        (1.6, 0, 1.2),
    ]]
    chamfer(chamfer016_edges, length=CHAMFER016_SIZE)


with BuildPart() as supersot020_1:
    # Body032 placement: moved
    add(supersot020.part.moved(Location((33.02, 0, 0))))


with BuildPart() as supersot021:
    # Sketch032 → Pad032 (new body)
    with BuildSketch(Plane.XY):
        Rectangle(SKETCH032_W, SKETCH032_H)
    extrude(amount=PAD032_DEPTH)

    # Chamfer015
    chamfer015_edges = [supersot021.edges().sort_by_distance(p)[0] for p in [
        (-1.6, 0, 1.2),
        (1.6, 0, 1.2),
    ]]
    chamfer(chamfer015_edges, length=CHAMFER015_SIZE)


with BuildPart() as supersot021_1:
    # Body033 placement: moved
    add(supersot021.part.moved(Location((36.83, 0, 0))))


with BuildPart() as capacitor_1u004:
    # Sketch041 → Pad038 (new body)
    with BuildSketch(Plane.XY):
        Rectangle(SKETCH041_W, SKETCH041_H)
    extrude(amount=PAD038_DEPTH)


with BuildPart() as capacitor_1u004_1:
    # Body039 placement: moved
    add(capacitor_1u004.part.moved(Location((41.91, 0, 0))).rotate(Axis((41.91, 0, 0), (0, 0, 1)), BODY039_PLACEMENT_ANGLE))


with BuildPart() as body025:
    # Sketch056 → Pad050 (new body)
    with BuildSketch(Plane.XY):
        with Locations((0, 4.5)):
            Rectangle(SKETCH056_W, SKETCH056_H)
    extrude(amount=PAD050_DEPTH)

    # Boolean: cut Capacitor 1u003, Supersot017, Supersot016, Resistor 10k010, Resistor 10k009, Supersot014, Supersot015, Sot23-big001, Sot23, Capacitor 100n002, Resistor 10k016, Resistor 10k015, Capacitor 1u005, Capacitor 100n003, Body048, Resistor 10k013, Resistor 10k014, Resistor 10k017, Supersot019, Supersot018, Resistor 10k012, Resistor 10k011, Supersot020, Supersot021, Capacitor 1u004
    add(capacitor_1u003_1.part, mode=Mode.SUBTRACT)
    add(supersot017_1.part, mode=Mode.SUBTRACT)
    add(supersot016_1.part, mode=Mode.SUBTRACT)
    add(resistor_10k010_1.part, mode=Mode.SUBTRACT)
    add(resistor_10k009_1.part, mode=Mode.SUBTRACT)
    add(supersot014_1.part, mode=Mode.SUBTRACT)
    add(supersot015_1.part, mode=Mode.SUBTRACT)
    add(sot23_big001_1.part, mode=Mode.SUBTRACT)
    add(sot23_1.part, mode=Mode.SUBTRACT)
    add(capacitor_100n002_1.part, mode=Mode.SUBTRACT)
    add(resistor_10k016_1.part, mode=Mode.SUBTRACT)
    add(resistor_10k015_1.part, mode=Mode.SUBTRACT)
    add(capacitor_1u005_1.part, mode=Mode.SUBTRACT)
    add(capacitor_100n003_1.part, mode=Mode.SUBTRACT)
    add(body048_1.part, mode=Mode.SUBTRACT)
    add(resistor_10k013_1.part, mode=Mode.SUBTRACT)
    add(resistor_10k014_1.part, mode=Mode.SUBTRACT)
    add(resistor_10k017_1.part, mode=Mode.SUBTRACT)
    add(supersot019_1.part, mode=Mode.SUBTRACT)
    add(supersot018_1.part, mode=Mode.SUBTRACT)
    add(resistor_10k012_1.part, mode=Mode.SUBTRACT)
    add(resistor_10k011_1.part, mode=Mode.SUBTRACT)
    add(supersot020_1.part, mode=Mode.SUBTRACT)
    add(supersot021_1.part, mode=Mode.SUBTRACT)
    add(capacitor_1u004_1.part, mode=Mode.SUBTRACT)


solid = body025.part
